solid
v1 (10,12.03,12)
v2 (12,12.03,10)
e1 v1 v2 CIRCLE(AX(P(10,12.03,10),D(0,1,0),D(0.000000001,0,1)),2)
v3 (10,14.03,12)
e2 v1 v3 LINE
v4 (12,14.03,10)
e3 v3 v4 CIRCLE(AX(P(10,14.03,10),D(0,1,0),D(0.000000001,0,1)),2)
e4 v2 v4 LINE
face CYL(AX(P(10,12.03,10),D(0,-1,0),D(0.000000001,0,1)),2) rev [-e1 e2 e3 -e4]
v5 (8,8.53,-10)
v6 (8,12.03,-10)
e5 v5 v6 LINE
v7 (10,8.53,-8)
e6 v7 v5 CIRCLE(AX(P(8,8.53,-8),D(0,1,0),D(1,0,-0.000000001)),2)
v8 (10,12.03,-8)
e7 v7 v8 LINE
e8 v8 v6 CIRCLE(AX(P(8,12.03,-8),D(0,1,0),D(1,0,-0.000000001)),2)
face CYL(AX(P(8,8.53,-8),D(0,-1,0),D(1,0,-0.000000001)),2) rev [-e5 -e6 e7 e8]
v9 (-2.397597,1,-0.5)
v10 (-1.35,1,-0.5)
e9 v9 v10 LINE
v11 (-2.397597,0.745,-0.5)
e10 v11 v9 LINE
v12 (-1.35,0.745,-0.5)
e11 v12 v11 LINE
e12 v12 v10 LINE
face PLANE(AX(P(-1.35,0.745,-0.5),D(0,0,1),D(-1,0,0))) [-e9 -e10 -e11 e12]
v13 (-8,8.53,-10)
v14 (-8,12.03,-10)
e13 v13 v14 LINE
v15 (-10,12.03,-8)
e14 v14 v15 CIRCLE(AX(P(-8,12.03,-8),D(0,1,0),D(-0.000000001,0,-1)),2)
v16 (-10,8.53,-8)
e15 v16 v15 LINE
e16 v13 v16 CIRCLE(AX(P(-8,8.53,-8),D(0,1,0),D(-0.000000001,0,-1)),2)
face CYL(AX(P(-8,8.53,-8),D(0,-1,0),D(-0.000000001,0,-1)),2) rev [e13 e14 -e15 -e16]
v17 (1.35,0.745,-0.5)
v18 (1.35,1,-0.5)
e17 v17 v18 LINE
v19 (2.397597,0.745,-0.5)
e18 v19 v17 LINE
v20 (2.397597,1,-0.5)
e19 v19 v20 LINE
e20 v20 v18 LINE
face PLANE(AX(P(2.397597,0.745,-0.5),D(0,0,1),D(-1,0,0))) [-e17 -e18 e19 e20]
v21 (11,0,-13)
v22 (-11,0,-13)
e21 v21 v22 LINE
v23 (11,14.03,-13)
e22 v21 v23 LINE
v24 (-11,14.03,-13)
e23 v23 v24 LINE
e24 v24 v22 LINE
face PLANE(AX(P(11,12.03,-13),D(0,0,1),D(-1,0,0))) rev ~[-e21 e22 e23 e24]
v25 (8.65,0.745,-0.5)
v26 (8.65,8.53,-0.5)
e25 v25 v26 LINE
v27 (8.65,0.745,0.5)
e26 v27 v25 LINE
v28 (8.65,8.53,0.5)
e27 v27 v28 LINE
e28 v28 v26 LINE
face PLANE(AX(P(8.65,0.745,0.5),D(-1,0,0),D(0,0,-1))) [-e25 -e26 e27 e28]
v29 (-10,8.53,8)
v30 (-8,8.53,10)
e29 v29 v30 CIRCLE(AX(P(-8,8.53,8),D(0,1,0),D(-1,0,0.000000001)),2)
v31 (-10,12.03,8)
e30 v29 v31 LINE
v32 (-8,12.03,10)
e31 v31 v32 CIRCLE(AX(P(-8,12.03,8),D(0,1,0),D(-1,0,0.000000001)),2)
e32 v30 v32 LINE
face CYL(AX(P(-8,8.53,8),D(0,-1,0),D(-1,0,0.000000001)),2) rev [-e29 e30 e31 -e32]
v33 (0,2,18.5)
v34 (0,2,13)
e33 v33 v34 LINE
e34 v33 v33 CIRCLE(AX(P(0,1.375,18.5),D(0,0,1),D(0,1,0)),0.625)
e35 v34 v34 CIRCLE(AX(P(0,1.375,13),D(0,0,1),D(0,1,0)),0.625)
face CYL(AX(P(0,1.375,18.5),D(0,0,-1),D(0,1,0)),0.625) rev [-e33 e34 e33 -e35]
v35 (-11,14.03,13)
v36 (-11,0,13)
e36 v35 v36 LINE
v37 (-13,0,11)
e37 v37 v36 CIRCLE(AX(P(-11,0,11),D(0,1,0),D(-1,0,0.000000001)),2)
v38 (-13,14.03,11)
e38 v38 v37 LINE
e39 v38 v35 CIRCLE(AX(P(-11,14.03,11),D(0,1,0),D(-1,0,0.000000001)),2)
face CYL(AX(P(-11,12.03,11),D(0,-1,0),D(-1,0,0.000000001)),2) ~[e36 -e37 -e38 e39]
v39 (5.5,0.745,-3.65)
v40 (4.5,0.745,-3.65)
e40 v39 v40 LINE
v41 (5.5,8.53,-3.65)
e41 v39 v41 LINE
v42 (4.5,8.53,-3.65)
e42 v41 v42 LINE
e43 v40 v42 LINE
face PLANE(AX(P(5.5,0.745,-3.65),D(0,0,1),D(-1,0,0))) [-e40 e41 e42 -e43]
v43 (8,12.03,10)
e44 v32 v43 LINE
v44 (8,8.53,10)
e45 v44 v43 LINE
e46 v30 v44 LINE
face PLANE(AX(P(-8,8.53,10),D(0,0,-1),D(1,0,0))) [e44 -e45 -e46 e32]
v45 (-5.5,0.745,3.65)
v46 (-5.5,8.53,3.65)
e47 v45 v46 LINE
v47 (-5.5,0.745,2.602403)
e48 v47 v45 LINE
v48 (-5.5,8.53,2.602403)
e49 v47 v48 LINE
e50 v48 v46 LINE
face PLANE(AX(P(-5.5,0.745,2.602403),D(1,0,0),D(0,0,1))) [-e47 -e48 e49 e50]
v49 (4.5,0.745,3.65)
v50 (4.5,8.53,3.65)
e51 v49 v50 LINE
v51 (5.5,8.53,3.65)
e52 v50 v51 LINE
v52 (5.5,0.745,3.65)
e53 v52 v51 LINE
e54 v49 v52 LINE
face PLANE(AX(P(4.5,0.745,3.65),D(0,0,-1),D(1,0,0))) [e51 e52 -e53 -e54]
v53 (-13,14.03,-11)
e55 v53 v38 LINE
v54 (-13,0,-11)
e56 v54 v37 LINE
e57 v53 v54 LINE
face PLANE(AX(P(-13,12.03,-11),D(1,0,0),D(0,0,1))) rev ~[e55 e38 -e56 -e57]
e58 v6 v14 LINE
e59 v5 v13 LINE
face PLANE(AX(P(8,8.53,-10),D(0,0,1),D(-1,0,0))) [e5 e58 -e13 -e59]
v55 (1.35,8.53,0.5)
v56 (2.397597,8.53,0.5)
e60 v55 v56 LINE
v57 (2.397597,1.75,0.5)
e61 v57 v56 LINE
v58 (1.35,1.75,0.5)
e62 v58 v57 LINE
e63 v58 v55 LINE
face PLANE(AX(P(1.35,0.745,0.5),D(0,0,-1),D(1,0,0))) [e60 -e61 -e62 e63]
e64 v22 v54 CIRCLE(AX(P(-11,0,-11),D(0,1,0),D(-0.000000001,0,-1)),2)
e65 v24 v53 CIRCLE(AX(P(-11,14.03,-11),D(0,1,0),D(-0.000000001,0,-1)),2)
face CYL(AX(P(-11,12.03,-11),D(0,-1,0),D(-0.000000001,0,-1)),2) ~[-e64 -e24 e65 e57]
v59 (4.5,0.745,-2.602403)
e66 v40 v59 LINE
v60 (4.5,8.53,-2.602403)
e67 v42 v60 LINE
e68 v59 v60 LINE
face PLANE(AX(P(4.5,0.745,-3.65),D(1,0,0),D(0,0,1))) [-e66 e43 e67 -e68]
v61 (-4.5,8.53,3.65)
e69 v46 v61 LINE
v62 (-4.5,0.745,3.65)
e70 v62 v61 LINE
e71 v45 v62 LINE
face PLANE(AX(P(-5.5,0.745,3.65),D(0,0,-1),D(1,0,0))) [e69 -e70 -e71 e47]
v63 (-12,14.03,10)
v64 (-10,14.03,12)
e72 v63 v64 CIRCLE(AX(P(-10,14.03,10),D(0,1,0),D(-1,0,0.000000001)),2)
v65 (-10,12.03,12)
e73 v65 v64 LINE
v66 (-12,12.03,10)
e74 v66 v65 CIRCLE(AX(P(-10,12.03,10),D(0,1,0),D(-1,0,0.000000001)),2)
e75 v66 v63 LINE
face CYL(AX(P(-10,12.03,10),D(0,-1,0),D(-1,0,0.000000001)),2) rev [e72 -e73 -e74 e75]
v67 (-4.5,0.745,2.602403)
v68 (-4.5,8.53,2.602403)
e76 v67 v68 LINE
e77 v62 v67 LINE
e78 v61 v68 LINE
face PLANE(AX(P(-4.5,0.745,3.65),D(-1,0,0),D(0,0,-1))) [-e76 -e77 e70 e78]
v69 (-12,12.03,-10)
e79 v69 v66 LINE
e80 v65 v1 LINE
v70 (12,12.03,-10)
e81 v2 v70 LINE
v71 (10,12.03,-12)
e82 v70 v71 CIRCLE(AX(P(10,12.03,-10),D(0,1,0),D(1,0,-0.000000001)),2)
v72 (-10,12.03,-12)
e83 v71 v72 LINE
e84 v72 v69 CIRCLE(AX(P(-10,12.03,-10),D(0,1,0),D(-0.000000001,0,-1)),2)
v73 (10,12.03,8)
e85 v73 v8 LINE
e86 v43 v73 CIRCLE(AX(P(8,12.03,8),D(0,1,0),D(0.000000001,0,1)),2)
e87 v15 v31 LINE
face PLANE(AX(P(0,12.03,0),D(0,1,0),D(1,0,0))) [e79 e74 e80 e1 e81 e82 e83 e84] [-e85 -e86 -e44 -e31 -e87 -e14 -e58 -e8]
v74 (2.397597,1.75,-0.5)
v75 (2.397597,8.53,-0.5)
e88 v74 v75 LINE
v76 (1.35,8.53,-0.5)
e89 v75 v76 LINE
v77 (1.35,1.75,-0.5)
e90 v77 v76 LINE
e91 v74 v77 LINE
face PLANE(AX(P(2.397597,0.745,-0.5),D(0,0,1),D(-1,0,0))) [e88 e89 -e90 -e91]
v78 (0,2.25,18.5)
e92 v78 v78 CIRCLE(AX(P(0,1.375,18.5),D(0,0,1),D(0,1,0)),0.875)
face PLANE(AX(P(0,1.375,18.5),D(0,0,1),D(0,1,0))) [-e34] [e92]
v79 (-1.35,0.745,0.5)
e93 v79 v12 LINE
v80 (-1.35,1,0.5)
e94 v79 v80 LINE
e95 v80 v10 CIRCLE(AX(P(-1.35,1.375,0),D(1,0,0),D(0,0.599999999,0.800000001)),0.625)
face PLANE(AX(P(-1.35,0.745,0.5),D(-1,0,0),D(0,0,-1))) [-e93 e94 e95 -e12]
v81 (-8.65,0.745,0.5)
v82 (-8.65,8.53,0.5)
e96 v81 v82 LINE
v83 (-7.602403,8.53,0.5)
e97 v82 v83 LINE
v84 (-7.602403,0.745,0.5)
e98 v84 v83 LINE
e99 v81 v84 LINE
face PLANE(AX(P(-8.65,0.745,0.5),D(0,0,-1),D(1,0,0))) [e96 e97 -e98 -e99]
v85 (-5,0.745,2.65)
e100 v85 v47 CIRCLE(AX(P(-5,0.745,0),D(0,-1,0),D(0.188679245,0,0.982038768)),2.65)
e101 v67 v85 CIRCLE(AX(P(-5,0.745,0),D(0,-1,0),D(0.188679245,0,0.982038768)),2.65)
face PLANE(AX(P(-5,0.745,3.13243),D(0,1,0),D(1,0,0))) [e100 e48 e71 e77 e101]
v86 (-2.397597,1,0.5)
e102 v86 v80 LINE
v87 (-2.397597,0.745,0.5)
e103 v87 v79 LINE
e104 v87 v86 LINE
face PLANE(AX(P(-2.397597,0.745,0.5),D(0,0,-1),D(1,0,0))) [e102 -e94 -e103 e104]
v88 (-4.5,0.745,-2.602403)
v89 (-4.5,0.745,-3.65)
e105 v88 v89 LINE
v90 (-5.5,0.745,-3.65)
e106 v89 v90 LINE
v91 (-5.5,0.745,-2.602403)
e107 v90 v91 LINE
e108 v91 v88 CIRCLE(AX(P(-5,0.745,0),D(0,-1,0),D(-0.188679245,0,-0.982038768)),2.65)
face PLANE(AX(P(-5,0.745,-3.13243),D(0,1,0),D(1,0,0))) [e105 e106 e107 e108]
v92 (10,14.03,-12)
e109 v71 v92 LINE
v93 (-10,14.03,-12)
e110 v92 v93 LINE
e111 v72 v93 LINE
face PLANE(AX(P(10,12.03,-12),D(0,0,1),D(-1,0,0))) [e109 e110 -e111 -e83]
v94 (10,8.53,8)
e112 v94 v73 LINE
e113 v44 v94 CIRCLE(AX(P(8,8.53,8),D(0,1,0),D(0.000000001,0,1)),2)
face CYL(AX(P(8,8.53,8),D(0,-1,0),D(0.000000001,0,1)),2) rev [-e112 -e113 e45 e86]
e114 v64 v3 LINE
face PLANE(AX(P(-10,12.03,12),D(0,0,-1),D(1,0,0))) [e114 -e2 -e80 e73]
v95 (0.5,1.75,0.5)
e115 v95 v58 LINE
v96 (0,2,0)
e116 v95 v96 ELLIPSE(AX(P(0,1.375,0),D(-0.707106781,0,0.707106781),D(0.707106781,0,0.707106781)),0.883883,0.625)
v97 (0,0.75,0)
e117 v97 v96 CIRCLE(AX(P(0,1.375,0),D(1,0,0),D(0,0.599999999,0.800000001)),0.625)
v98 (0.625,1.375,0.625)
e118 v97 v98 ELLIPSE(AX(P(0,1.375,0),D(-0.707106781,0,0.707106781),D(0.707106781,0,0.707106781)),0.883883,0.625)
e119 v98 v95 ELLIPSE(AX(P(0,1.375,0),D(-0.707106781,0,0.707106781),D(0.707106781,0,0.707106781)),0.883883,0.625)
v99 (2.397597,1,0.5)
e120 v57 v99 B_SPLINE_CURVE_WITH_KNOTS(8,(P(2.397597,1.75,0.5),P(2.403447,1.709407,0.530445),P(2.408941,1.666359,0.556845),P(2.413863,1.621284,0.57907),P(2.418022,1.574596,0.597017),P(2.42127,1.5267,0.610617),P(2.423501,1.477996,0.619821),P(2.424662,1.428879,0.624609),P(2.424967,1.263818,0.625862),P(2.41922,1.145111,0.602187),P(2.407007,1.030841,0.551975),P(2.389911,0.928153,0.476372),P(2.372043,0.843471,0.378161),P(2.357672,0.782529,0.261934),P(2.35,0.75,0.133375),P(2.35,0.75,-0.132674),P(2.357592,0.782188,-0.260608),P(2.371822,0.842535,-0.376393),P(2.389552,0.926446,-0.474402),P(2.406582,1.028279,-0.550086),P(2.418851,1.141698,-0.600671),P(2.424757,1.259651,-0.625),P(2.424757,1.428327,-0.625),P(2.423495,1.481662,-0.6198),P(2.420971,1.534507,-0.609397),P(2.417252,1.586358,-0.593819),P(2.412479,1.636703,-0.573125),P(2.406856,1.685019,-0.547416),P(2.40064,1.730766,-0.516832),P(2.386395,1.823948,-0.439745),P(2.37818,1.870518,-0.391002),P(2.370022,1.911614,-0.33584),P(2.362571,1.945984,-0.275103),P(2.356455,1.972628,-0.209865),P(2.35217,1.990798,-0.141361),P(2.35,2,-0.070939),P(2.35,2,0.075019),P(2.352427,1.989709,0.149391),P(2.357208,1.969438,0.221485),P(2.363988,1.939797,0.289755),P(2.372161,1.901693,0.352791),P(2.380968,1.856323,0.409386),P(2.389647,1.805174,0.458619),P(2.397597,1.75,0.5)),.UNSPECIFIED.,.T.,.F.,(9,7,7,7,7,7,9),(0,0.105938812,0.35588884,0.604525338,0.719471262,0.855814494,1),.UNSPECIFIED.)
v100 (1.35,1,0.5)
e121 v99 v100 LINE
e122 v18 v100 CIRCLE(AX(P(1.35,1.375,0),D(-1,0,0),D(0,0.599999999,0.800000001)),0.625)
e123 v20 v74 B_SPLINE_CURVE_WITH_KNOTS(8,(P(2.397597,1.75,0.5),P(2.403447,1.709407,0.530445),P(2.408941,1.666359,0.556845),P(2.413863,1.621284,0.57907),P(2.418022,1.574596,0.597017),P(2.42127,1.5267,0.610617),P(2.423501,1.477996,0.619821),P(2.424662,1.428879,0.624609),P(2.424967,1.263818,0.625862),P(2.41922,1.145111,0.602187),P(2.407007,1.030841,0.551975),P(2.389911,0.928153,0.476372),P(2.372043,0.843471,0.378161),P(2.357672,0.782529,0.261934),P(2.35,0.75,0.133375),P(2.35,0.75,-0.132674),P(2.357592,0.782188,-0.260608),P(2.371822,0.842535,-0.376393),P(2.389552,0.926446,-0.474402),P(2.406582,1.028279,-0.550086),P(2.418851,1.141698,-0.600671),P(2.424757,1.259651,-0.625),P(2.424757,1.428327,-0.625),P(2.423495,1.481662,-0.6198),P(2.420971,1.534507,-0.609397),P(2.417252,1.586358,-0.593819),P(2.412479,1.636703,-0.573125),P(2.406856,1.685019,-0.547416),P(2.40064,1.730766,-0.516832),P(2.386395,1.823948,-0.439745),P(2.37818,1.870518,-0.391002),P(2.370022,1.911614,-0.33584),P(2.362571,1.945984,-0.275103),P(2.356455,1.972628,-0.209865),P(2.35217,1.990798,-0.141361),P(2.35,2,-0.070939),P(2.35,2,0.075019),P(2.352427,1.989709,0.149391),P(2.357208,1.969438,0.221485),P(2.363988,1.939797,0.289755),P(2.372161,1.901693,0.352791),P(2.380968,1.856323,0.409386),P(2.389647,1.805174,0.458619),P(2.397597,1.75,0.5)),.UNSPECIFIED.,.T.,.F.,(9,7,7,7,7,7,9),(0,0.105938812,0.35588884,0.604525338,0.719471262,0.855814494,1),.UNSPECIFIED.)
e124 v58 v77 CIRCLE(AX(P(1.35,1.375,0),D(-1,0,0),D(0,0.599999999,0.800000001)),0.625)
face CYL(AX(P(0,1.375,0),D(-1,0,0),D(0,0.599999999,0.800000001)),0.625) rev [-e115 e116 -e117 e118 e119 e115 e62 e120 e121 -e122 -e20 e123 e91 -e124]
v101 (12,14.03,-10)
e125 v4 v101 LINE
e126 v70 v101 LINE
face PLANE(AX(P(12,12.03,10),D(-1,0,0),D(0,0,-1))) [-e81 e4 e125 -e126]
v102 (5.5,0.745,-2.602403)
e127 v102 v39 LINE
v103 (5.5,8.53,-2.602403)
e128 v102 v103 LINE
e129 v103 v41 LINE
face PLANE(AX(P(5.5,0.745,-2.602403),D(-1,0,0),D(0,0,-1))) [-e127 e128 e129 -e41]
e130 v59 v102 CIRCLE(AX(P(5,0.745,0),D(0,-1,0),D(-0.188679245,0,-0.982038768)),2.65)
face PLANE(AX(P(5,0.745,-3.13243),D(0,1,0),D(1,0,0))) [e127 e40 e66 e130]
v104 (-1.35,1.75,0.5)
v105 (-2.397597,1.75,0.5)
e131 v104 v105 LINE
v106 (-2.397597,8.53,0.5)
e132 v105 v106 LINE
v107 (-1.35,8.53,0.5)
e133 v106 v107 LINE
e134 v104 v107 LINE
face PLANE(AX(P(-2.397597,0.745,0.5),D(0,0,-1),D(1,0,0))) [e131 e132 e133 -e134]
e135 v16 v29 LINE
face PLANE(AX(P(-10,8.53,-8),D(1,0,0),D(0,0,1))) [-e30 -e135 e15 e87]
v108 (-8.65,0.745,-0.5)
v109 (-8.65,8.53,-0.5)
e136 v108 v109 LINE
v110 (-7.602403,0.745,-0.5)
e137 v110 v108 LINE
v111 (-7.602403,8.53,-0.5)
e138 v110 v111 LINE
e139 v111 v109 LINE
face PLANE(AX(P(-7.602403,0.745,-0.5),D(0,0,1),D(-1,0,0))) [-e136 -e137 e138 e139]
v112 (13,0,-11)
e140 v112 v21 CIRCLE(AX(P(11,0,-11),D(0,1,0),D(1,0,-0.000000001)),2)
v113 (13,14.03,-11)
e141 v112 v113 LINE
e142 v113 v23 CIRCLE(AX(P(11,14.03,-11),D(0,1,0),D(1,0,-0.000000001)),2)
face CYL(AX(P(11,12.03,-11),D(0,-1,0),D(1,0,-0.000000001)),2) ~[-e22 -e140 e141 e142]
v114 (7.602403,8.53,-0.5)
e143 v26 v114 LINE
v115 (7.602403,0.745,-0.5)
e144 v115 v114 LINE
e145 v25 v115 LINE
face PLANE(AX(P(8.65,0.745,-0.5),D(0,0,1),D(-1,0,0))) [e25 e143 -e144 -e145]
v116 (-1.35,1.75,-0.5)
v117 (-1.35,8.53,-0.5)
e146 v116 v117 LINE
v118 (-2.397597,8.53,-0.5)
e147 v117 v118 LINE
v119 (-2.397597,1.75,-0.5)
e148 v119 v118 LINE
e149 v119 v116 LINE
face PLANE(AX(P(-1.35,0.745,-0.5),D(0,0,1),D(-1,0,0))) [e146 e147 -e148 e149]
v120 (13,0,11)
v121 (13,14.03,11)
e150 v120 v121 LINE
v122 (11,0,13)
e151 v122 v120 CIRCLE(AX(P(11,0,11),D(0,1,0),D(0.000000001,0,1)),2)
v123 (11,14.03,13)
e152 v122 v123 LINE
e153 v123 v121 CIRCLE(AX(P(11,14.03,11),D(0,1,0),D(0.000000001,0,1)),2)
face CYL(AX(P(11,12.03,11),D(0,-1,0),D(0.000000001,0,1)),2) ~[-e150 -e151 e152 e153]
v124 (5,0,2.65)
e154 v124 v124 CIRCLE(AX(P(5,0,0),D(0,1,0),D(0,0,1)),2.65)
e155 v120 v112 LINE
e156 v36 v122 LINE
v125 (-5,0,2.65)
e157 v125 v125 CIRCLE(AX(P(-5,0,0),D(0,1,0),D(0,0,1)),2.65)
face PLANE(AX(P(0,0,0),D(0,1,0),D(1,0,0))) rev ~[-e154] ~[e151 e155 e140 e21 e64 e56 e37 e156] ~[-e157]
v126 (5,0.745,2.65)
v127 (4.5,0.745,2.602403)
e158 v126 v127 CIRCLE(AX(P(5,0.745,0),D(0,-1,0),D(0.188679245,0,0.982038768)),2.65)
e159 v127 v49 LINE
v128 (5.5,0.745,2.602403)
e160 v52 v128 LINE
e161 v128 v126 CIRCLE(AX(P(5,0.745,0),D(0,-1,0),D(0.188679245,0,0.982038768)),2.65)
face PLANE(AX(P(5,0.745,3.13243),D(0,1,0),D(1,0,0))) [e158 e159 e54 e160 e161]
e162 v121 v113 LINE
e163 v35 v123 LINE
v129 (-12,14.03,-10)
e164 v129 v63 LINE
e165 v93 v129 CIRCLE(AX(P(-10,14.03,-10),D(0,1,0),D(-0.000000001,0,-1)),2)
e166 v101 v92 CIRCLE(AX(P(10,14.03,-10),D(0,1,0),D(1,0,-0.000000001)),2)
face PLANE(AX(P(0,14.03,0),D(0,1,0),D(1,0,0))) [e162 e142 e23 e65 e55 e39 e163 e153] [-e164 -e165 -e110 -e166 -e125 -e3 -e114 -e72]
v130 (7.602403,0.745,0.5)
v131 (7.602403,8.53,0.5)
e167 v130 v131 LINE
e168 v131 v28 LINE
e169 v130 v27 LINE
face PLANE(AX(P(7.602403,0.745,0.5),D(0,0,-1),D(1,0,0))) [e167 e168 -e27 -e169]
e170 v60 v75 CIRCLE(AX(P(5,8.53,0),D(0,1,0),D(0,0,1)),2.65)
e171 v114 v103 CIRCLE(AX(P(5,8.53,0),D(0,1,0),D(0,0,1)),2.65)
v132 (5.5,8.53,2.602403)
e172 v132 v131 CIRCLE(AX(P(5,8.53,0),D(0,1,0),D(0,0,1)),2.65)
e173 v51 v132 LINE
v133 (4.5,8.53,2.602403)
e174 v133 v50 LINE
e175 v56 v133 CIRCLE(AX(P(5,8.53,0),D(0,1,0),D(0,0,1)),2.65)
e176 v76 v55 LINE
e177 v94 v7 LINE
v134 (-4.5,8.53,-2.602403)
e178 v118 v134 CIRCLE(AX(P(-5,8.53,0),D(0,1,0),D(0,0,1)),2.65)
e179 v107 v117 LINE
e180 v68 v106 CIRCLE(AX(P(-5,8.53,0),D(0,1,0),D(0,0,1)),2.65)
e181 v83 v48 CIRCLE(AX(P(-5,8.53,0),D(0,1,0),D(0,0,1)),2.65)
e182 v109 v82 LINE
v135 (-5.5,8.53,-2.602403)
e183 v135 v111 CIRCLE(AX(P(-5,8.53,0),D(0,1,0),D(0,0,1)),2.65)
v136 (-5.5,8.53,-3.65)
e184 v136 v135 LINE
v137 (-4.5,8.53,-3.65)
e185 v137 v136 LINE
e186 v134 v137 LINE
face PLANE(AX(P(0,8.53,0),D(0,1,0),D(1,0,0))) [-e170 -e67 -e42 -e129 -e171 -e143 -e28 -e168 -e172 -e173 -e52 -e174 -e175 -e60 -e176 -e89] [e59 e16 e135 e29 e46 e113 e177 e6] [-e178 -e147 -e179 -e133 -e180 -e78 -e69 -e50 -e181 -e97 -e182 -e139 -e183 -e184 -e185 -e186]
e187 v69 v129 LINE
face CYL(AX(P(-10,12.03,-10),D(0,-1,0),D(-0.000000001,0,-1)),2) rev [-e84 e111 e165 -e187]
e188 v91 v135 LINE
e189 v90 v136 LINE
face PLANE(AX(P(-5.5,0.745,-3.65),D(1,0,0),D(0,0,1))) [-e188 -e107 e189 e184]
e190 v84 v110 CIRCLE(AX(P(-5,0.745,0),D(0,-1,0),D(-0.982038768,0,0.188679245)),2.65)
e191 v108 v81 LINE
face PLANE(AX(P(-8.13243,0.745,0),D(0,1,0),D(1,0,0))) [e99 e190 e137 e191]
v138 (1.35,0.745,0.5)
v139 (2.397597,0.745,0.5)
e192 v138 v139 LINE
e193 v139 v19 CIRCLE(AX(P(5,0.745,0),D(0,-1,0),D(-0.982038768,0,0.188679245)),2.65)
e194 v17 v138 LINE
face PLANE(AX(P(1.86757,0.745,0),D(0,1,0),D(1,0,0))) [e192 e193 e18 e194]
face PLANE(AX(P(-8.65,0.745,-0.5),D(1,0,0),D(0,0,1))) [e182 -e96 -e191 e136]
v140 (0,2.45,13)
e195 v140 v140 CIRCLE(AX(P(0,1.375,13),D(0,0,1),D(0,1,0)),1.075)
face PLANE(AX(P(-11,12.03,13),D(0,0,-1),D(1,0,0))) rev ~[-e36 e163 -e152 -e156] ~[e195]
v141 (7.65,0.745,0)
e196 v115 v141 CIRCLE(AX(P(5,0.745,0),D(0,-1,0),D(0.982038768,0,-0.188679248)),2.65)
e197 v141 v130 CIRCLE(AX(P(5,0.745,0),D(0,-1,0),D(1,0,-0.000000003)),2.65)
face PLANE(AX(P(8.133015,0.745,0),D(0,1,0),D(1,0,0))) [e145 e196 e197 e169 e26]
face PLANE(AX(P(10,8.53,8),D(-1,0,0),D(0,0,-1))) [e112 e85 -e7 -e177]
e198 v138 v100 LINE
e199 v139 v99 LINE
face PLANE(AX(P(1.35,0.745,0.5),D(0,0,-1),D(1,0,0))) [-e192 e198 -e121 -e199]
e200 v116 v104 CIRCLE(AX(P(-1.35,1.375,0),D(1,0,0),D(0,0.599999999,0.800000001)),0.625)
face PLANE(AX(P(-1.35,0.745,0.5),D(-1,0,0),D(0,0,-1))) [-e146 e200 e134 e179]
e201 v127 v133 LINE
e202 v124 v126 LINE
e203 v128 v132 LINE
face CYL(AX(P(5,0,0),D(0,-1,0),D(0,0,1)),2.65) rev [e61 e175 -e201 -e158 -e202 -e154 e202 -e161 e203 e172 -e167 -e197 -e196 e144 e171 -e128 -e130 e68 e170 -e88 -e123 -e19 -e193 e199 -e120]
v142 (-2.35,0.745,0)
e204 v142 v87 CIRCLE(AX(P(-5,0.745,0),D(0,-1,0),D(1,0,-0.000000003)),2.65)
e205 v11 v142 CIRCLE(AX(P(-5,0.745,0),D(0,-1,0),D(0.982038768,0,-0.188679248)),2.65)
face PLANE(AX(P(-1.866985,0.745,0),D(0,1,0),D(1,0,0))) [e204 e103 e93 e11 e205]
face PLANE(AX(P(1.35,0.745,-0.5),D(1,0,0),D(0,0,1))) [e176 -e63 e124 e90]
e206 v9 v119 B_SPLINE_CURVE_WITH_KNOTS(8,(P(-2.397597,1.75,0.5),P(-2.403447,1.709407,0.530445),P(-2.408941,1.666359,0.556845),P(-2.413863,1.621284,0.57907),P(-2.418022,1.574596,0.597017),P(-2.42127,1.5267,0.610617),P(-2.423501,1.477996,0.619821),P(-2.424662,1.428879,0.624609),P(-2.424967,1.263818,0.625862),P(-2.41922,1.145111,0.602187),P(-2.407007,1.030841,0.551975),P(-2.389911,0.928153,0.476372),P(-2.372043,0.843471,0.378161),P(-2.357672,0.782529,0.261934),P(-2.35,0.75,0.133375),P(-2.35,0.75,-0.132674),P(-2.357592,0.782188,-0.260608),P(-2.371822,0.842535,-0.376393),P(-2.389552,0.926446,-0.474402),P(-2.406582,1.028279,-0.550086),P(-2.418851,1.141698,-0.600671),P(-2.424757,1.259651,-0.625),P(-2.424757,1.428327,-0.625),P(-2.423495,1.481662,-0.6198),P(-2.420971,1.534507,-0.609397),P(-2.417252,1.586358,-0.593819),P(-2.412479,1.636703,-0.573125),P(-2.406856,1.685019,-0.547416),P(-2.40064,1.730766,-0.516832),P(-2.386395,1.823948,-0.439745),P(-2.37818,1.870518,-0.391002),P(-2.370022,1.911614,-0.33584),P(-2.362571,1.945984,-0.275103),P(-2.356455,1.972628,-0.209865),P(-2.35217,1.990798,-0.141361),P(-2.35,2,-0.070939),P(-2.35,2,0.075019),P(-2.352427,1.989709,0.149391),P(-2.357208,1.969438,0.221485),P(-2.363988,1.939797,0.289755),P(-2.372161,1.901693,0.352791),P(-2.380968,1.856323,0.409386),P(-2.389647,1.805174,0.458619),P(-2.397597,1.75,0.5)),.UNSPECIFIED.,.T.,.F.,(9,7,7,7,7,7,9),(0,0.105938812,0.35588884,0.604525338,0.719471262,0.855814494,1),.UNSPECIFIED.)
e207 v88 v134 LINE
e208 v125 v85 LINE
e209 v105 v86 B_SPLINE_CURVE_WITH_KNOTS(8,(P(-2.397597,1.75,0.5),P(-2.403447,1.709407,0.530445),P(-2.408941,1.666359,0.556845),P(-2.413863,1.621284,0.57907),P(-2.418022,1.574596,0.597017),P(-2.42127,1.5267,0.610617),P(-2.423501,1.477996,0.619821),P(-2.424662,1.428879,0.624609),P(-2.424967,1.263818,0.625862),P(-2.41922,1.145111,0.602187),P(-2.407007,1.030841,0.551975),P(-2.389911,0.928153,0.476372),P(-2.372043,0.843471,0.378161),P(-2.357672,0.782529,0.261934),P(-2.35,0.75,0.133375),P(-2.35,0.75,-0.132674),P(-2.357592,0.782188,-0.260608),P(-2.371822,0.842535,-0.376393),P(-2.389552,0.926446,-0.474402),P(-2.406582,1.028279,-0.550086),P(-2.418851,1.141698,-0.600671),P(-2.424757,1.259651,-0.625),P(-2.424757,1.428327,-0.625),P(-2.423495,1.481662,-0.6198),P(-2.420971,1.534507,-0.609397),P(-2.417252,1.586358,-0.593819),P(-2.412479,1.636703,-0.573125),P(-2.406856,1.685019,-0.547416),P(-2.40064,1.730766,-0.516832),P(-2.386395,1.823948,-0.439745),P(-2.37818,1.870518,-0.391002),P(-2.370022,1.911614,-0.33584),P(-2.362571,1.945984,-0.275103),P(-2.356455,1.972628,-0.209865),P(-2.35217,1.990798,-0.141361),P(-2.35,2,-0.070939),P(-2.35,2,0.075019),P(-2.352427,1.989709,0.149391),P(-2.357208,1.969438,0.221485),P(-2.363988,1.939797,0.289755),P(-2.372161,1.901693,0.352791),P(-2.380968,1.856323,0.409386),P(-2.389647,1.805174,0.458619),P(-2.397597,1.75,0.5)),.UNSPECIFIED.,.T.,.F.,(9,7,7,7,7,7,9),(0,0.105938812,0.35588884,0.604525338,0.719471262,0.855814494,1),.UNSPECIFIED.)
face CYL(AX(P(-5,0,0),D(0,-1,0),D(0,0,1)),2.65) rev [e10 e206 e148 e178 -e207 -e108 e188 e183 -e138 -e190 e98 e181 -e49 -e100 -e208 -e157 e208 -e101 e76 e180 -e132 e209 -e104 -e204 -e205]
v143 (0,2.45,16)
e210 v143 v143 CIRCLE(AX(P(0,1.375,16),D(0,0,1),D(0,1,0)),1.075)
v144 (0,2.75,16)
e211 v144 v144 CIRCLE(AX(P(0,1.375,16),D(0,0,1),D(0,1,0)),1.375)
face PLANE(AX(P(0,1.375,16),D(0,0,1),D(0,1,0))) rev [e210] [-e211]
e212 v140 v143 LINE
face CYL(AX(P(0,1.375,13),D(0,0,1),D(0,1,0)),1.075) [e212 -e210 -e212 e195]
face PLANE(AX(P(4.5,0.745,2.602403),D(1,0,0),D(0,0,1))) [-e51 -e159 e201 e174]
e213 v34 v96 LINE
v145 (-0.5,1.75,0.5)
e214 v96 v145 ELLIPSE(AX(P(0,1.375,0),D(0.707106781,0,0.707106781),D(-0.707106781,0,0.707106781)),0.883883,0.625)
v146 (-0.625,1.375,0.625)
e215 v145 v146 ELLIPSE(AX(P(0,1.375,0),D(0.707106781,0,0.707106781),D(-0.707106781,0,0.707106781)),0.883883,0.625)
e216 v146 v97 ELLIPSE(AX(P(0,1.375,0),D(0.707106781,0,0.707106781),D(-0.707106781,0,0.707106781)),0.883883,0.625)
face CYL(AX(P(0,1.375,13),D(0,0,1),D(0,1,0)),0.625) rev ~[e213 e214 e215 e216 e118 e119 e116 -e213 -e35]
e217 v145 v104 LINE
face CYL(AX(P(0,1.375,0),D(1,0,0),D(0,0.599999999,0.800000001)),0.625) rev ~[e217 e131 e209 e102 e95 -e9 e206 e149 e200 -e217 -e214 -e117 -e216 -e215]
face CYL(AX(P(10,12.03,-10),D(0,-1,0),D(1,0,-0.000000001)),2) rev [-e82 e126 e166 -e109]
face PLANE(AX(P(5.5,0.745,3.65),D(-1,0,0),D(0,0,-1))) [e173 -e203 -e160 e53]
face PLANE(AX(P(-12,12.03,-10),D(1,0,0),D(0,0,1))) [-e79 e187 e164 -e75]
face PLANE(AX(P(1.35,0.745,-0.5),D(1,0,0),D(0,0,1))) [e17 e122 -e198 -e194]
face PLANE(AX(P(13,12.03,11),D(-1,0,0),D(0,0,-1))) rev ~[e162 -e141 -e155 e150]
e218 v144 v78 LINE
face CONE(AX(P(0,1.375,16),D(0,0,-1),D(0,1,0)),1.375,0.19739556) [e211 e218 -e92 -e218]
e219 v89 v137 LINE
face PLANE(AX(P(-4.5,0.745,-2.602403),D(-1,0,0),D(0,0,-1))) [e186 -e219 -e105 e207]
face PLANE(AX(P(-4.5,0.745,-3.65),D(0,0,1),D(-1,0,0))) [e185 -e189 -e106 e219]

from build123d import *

# Parameters (mm, degrees)
SKETCH1_R                      = 2.65
BOSS_EXTRUDE1_DEPTH            = 8.53
CUT_EXTRUDE1_START             = -7.785
CUT_EXTRUDE1_DEPTH             = 7.785
CUT_EXTRUDE3_REACH             = 26.166
SKETCH10_R                     = 0.625
CUT_EXTRUDE3_DIRECTION_2_REACH = 26.166
CUT_EXTRUDE2_REACH             = 32.295
SKETCH5_R                      = 0.625
BOSS_EXTRUDE2_DEPTH            = 3.5
BOSS_EXTRUDE3_DEPTH            = 2


with BuildPart() as part:
    # Sketch1 → Boss-Extrude1 (new body)
    with BuildSketch(Plane(origin=(0, 0, 0), x_dir=(1, 0, 0), z_dir=(0, 1, 0))):
        with BuildLine():
            Line((-11, -13), (11, -13))
            ThreePointArc((11, -13), (12.414213562, -12.414213562), (13, -11))
            Line((13, -11), (13, 11))
            ThreePointArc((13, 11), (12.414213562, 12.414213562), (11, 13))
            Line((11, 13), (-11, 13))
            ThreePointArc((-11, 13), (-12.414213562, 12.414213562), (-13, 11))
            Line((-13, 11), (-13, -11))
            ThreePointArc((-13, -11), (-12.414213562, -12.414213562), (-11, -13))
        make_face()
        with Locations(Location((5, 0, 0), (0, 0, 270))):
            Circle(SKETCH1_R, mode=Mode.SUBTRACT)
        with Locations(Location((-5, 0, 0), (0, 0, 270))):
            Circle(SKETCH1_R, mode=Mode.SUBTRACT)
    extrude(amount=BOSS_EXTRUDE1_DEPTH)

    # Sketch2 → Cut-Extrude1 (cut)
    with BuildSketch(Plane(origin=(0, 8.53, 0), x_dir=(1, 0, 0), z_dir=(0, 1, 0)).offset(CUT_EXTRUDE1_START)):
        with BuildLine():
            Line((4.5, 3.65), (4.5, 2.602402736))
            ThreePointArc((4.5, 2.602402736), (5, 2.65), (5.5, 2.602402736))
            Line((5.5, 2.602402736), (5.5, 3.65))
            Line((5.5, 3.65), (4.5, 3.65))
        make_face()
        with BuildLine():
            ThreePointArc((7.65, 0), (7.638073848, -0.251130195), (7.602402736, -0.5))
            Line((7.602402736, -0.5), (8.65, -0.5))
            Line((8.65, -0.5), (8.65, 0.5))
            Line((8.65, 0.5), (7.602402736, 0.5))
            ThreePointArc((7.602402736, 0.5), (7.638073848, 0.251130195), (7.65, 0))
        make_face()
        with BuildLine():
            Line((4.5, -2.602402736), (4.5, -3.65))
            Line((4.5, -3.65), (5.5, -3.65))
            Line((5.5, -3.65), (5.5, -2.602402736))
            ThreePointArc((5.5, -2.602402736), (5, -2.65), (4.5, -2.602402736))
        make_face()
        with BuildLine():
            Line((1.35, -0.5), (2.397597264, -0.5))
            ThreePointArc((2.397597264, -0.5), (2.35, 0), (2.397597264, 0.5))
            Line((2.397597264, 0.5), (1.35, 0.5))
            Line((1.35, 0.5), (1.35, -0.5))
        make_face()
        with BuildLine():
            ThreePointArc((-2.35, 0), (-2.361926152, -0.251130195), (-2.397597264, -0.5))
            Line((-2.397597264, -0.5), (-1.35, -0.5))
            Line((-1.35, -0.5), (-1.35, 0.5))
            Line((-1.35, 0.5), (-2.397597264, 0.5))
            ThreePointArc((-2.397597264, 0.5), (-2.361926152, 0.251130195), (-2.35, 0))
        make_face()
        with BuildLine():
            Line((-5.5, 3.65), (-5.5, 2.602402736))
            ThreePointArc((-5.5, 2.602402736), (-5, 2.65), (-4.5, 2.602402736))
            Line((-4.5, 2.602402736), (-4.5, 3.65))
            Line((-4.5, 3.65), (-5.5, 3.65))
        make_face()
        with BuildLine():
            Line((-8.65, 0.5), (-8.65, -0.5))
            Line((-8.65, -0.5), (-7.602402736, -0.5))
            ThreePointArc((-7.602402736, -0.5), (-7.65, 0), (-7.602402736, 0.5))
            Line((-7.602402736, 0.5), (-8.65, 0.5))
        make_face()
        with BuildLine():
            ThreePointArc((-4.5, -2.602402736), (-5, -2.65), (-5.5, -2.602402736))
            Line((-5.5, -2.602402736), (-5.5, -3.65))
            Line((-5.5, -3.65), (-4.5, -3.65))
            Line((-4.5, -3.65), (-4.5, -2.602402736))
        make_face()
    extrude(amount=CUT_EXTRUDE1_DEPTH, mode=Mode.SUBTRACT)

    # Sketch3 → Revolve1 (revolve)
    with BuildSketch(Plane(origin=(0, 0, 0), x_dir=(0, 0, -1), z_dir=(1, 0, 0)), mode=Mode.PRIVATE) as revolve1_sk:
        Polygon((-13, 0.3), (-16, 0.3), (-16, 0), (-18.5, 0.5), (-18.5, 0.75), (-13, 0.75), align=None)
    revolve(revolve1_sk.sketch.rotate(Axis((0, 1.375, 13), (0, 0, 1)), 180), axis=Axis((0, 1.375, 13), (0, 0, 1)))

    # Sketch10 → Cut-Extrude3 (cut, up to next)
    with BuildSketch(Plane(origin=(0, 0, 0), x_dir=(0, 0, -1), z_dir=(1, 0, 0)), mode=Mode.PRIVATE) as cut_extrude3_sk1:
        with Locations(Location((0, 1.375, 0), (0, 0, 143.130102406))):
            Circle(SKETCH10_R)
    cut_extrude3_tool1 = extrude(cut_extrude3_sk1.sketch, amount=-CUT_EXTRUDE3_REACH, mode=Mode.PRIVATE) & part.part
    add(cut_extrude3_tool1.solids().sort_by_distance((0, 1.375, 0))[0], mode=Mode.SUBTRACT)

    # Sketch10 → Cut-Extrude3 direction 2 (cut, up to next)
    with BuildSketch(Plane(origin=(0, 0, 0), x_dir=(0, 0, -1), z_dir=(1, 0, 0)), mode=Mode.PRIVATE) as cut_extrude3_direction_2_sk1:
        with Locations(Location((0, 1.375, 0), (0, 0, 143.130102406))):
            Circle(SKETCH10_R)
    cut_extrude3_direction_2_tool1 = extrude(cut_extrude3_direction_2_sk1.sketch, amount=CUT_EXTRUDE3_DIRECTION_2_REACH, mode=Mode.PRIVATE) & part.part
    add(cut_extrude3_direction_2_tool1.solids().sort_by_distance((0, 1.375, 0))[0], mode=Mode.SUBTRACT)

    # Sketch5 → Cut-Extrude2 (cut, up to next)
    with BuildSketch(Plane.XY.offset(13), mode=Mode.PRIVATE) as cut_extrude2_sk1:
        with Locations(Location((0, 1.375, 0), (0, 0, 90))):
            Circle(SKETCH5_R)
    cut_extrude2_tool1 = extrude(cut_extrude2_sk1.sketch, amount=-CUT_EXTRUDE2_REACH, mode=Mode.PRIVATE) & part.part
    add(cut_extrude2_tool1.solids().sort_by_distance((0, 1.375, 13))[0], mode=Mode.SUBTRACT)

    # Sketch6 → Boss-Extrude2 (add)
    with BuildSketch(Plane(origin=(0, 8.53, 0), x_dir=(1, 0, 0), z_dir=(0, 1, 0))):
        with BuildLine():
            Line((-11, -13), (11, -13))
            ThreePointArc((11, -13), (12.414213562, -12.414213562), (13, -11))
            Line((13, -11), (13, 11))
            ThreePointArc((13, 11), (12.414213562, 12.414213562), (11, 13))
            Line((11, 13), (-11, 13))
            ThreePointArc((-11, 13), (-12.414213562, 12.414213562), (-13, 11))
            Line((-13, 11), (-13, -11))
            ThreePointArc((-13, -11), (-12.414213562, -12.414213562), (-11, -13))
        make_face()
        with BuildLine():
            Line((-8, -10), (8, -10))
            ThreePointArc((8, -10), (9.414213562, -9.414213562), (10, -8))
            Line((10, -8), (10, 8))
            ThreePointArc((10, 8), (9.414213562, 9.414213562), (8, 10))
            Line((8, 10), (-8, 10))
            ThreePointArc((-8, 10), (-9.414213562, 9.414213562), (-10, 8))
            Line((-10, 8), (-10, -8))
            ThreePointArc((-10, -8), (-9.414213562, -9.414213562), (-8, -10))
        make_face(mode=Mode.SUBTRACT)
    extrude(amount=BOSS_EXTRUDE2_DEPTH)

    # Sketch8 → Boss-Extrude3 (add)
    with BuildSketch(Plane(origin=(0, 12.03, 0), x_dir=(1, 0, 0), z_dir=(0, 1, 0))):
        with BuildLine():
            Line((-11, -13), (11, -13))
            ThreePointArc((11, -13), (12.414213562, -12.414213562), (13, -11))
            Line((13, -11), (13, 11))
            ThreePointArc((13, 11), (12.414213562, 12.414213562), (11, 13))
            Line((11, 13), (-11, 13))
            ThreePointArc((-11, 13), (-12.414213562, 12.414213562), (-13, 11))
            Line((-13, 11), (-13, -11))
            ThreePointArc((-13, -11), (-12.414213562, -12.414213562), (-11, -13))
        make_face()
        with BuildLine():
            Line((-10, -12), (10, -12))
            ThreePointArc((10, -12), (11.414213562, -11.414213562), (12, -10))
            Line((12, -10), (12, 10))
            ThreePointArc((12, 10), (11.414213562, 11.414213562), (10, 12))
            Line((10, 12), (-10, 12))
            ThreePointArc((-10, 12), (-11.414213562, 11.414213562), (-12, 10))
            Line((-12, 10), (-12, -10))
            ThreePointArc((-12, -10), (-11.414213562, -11.414213562), (-10, -12))
        make_face(mode=Mode.SUBTRACT)
    extrude(amount=BOSS_EXTRUDE3_DEPTH)


solid = part.part
